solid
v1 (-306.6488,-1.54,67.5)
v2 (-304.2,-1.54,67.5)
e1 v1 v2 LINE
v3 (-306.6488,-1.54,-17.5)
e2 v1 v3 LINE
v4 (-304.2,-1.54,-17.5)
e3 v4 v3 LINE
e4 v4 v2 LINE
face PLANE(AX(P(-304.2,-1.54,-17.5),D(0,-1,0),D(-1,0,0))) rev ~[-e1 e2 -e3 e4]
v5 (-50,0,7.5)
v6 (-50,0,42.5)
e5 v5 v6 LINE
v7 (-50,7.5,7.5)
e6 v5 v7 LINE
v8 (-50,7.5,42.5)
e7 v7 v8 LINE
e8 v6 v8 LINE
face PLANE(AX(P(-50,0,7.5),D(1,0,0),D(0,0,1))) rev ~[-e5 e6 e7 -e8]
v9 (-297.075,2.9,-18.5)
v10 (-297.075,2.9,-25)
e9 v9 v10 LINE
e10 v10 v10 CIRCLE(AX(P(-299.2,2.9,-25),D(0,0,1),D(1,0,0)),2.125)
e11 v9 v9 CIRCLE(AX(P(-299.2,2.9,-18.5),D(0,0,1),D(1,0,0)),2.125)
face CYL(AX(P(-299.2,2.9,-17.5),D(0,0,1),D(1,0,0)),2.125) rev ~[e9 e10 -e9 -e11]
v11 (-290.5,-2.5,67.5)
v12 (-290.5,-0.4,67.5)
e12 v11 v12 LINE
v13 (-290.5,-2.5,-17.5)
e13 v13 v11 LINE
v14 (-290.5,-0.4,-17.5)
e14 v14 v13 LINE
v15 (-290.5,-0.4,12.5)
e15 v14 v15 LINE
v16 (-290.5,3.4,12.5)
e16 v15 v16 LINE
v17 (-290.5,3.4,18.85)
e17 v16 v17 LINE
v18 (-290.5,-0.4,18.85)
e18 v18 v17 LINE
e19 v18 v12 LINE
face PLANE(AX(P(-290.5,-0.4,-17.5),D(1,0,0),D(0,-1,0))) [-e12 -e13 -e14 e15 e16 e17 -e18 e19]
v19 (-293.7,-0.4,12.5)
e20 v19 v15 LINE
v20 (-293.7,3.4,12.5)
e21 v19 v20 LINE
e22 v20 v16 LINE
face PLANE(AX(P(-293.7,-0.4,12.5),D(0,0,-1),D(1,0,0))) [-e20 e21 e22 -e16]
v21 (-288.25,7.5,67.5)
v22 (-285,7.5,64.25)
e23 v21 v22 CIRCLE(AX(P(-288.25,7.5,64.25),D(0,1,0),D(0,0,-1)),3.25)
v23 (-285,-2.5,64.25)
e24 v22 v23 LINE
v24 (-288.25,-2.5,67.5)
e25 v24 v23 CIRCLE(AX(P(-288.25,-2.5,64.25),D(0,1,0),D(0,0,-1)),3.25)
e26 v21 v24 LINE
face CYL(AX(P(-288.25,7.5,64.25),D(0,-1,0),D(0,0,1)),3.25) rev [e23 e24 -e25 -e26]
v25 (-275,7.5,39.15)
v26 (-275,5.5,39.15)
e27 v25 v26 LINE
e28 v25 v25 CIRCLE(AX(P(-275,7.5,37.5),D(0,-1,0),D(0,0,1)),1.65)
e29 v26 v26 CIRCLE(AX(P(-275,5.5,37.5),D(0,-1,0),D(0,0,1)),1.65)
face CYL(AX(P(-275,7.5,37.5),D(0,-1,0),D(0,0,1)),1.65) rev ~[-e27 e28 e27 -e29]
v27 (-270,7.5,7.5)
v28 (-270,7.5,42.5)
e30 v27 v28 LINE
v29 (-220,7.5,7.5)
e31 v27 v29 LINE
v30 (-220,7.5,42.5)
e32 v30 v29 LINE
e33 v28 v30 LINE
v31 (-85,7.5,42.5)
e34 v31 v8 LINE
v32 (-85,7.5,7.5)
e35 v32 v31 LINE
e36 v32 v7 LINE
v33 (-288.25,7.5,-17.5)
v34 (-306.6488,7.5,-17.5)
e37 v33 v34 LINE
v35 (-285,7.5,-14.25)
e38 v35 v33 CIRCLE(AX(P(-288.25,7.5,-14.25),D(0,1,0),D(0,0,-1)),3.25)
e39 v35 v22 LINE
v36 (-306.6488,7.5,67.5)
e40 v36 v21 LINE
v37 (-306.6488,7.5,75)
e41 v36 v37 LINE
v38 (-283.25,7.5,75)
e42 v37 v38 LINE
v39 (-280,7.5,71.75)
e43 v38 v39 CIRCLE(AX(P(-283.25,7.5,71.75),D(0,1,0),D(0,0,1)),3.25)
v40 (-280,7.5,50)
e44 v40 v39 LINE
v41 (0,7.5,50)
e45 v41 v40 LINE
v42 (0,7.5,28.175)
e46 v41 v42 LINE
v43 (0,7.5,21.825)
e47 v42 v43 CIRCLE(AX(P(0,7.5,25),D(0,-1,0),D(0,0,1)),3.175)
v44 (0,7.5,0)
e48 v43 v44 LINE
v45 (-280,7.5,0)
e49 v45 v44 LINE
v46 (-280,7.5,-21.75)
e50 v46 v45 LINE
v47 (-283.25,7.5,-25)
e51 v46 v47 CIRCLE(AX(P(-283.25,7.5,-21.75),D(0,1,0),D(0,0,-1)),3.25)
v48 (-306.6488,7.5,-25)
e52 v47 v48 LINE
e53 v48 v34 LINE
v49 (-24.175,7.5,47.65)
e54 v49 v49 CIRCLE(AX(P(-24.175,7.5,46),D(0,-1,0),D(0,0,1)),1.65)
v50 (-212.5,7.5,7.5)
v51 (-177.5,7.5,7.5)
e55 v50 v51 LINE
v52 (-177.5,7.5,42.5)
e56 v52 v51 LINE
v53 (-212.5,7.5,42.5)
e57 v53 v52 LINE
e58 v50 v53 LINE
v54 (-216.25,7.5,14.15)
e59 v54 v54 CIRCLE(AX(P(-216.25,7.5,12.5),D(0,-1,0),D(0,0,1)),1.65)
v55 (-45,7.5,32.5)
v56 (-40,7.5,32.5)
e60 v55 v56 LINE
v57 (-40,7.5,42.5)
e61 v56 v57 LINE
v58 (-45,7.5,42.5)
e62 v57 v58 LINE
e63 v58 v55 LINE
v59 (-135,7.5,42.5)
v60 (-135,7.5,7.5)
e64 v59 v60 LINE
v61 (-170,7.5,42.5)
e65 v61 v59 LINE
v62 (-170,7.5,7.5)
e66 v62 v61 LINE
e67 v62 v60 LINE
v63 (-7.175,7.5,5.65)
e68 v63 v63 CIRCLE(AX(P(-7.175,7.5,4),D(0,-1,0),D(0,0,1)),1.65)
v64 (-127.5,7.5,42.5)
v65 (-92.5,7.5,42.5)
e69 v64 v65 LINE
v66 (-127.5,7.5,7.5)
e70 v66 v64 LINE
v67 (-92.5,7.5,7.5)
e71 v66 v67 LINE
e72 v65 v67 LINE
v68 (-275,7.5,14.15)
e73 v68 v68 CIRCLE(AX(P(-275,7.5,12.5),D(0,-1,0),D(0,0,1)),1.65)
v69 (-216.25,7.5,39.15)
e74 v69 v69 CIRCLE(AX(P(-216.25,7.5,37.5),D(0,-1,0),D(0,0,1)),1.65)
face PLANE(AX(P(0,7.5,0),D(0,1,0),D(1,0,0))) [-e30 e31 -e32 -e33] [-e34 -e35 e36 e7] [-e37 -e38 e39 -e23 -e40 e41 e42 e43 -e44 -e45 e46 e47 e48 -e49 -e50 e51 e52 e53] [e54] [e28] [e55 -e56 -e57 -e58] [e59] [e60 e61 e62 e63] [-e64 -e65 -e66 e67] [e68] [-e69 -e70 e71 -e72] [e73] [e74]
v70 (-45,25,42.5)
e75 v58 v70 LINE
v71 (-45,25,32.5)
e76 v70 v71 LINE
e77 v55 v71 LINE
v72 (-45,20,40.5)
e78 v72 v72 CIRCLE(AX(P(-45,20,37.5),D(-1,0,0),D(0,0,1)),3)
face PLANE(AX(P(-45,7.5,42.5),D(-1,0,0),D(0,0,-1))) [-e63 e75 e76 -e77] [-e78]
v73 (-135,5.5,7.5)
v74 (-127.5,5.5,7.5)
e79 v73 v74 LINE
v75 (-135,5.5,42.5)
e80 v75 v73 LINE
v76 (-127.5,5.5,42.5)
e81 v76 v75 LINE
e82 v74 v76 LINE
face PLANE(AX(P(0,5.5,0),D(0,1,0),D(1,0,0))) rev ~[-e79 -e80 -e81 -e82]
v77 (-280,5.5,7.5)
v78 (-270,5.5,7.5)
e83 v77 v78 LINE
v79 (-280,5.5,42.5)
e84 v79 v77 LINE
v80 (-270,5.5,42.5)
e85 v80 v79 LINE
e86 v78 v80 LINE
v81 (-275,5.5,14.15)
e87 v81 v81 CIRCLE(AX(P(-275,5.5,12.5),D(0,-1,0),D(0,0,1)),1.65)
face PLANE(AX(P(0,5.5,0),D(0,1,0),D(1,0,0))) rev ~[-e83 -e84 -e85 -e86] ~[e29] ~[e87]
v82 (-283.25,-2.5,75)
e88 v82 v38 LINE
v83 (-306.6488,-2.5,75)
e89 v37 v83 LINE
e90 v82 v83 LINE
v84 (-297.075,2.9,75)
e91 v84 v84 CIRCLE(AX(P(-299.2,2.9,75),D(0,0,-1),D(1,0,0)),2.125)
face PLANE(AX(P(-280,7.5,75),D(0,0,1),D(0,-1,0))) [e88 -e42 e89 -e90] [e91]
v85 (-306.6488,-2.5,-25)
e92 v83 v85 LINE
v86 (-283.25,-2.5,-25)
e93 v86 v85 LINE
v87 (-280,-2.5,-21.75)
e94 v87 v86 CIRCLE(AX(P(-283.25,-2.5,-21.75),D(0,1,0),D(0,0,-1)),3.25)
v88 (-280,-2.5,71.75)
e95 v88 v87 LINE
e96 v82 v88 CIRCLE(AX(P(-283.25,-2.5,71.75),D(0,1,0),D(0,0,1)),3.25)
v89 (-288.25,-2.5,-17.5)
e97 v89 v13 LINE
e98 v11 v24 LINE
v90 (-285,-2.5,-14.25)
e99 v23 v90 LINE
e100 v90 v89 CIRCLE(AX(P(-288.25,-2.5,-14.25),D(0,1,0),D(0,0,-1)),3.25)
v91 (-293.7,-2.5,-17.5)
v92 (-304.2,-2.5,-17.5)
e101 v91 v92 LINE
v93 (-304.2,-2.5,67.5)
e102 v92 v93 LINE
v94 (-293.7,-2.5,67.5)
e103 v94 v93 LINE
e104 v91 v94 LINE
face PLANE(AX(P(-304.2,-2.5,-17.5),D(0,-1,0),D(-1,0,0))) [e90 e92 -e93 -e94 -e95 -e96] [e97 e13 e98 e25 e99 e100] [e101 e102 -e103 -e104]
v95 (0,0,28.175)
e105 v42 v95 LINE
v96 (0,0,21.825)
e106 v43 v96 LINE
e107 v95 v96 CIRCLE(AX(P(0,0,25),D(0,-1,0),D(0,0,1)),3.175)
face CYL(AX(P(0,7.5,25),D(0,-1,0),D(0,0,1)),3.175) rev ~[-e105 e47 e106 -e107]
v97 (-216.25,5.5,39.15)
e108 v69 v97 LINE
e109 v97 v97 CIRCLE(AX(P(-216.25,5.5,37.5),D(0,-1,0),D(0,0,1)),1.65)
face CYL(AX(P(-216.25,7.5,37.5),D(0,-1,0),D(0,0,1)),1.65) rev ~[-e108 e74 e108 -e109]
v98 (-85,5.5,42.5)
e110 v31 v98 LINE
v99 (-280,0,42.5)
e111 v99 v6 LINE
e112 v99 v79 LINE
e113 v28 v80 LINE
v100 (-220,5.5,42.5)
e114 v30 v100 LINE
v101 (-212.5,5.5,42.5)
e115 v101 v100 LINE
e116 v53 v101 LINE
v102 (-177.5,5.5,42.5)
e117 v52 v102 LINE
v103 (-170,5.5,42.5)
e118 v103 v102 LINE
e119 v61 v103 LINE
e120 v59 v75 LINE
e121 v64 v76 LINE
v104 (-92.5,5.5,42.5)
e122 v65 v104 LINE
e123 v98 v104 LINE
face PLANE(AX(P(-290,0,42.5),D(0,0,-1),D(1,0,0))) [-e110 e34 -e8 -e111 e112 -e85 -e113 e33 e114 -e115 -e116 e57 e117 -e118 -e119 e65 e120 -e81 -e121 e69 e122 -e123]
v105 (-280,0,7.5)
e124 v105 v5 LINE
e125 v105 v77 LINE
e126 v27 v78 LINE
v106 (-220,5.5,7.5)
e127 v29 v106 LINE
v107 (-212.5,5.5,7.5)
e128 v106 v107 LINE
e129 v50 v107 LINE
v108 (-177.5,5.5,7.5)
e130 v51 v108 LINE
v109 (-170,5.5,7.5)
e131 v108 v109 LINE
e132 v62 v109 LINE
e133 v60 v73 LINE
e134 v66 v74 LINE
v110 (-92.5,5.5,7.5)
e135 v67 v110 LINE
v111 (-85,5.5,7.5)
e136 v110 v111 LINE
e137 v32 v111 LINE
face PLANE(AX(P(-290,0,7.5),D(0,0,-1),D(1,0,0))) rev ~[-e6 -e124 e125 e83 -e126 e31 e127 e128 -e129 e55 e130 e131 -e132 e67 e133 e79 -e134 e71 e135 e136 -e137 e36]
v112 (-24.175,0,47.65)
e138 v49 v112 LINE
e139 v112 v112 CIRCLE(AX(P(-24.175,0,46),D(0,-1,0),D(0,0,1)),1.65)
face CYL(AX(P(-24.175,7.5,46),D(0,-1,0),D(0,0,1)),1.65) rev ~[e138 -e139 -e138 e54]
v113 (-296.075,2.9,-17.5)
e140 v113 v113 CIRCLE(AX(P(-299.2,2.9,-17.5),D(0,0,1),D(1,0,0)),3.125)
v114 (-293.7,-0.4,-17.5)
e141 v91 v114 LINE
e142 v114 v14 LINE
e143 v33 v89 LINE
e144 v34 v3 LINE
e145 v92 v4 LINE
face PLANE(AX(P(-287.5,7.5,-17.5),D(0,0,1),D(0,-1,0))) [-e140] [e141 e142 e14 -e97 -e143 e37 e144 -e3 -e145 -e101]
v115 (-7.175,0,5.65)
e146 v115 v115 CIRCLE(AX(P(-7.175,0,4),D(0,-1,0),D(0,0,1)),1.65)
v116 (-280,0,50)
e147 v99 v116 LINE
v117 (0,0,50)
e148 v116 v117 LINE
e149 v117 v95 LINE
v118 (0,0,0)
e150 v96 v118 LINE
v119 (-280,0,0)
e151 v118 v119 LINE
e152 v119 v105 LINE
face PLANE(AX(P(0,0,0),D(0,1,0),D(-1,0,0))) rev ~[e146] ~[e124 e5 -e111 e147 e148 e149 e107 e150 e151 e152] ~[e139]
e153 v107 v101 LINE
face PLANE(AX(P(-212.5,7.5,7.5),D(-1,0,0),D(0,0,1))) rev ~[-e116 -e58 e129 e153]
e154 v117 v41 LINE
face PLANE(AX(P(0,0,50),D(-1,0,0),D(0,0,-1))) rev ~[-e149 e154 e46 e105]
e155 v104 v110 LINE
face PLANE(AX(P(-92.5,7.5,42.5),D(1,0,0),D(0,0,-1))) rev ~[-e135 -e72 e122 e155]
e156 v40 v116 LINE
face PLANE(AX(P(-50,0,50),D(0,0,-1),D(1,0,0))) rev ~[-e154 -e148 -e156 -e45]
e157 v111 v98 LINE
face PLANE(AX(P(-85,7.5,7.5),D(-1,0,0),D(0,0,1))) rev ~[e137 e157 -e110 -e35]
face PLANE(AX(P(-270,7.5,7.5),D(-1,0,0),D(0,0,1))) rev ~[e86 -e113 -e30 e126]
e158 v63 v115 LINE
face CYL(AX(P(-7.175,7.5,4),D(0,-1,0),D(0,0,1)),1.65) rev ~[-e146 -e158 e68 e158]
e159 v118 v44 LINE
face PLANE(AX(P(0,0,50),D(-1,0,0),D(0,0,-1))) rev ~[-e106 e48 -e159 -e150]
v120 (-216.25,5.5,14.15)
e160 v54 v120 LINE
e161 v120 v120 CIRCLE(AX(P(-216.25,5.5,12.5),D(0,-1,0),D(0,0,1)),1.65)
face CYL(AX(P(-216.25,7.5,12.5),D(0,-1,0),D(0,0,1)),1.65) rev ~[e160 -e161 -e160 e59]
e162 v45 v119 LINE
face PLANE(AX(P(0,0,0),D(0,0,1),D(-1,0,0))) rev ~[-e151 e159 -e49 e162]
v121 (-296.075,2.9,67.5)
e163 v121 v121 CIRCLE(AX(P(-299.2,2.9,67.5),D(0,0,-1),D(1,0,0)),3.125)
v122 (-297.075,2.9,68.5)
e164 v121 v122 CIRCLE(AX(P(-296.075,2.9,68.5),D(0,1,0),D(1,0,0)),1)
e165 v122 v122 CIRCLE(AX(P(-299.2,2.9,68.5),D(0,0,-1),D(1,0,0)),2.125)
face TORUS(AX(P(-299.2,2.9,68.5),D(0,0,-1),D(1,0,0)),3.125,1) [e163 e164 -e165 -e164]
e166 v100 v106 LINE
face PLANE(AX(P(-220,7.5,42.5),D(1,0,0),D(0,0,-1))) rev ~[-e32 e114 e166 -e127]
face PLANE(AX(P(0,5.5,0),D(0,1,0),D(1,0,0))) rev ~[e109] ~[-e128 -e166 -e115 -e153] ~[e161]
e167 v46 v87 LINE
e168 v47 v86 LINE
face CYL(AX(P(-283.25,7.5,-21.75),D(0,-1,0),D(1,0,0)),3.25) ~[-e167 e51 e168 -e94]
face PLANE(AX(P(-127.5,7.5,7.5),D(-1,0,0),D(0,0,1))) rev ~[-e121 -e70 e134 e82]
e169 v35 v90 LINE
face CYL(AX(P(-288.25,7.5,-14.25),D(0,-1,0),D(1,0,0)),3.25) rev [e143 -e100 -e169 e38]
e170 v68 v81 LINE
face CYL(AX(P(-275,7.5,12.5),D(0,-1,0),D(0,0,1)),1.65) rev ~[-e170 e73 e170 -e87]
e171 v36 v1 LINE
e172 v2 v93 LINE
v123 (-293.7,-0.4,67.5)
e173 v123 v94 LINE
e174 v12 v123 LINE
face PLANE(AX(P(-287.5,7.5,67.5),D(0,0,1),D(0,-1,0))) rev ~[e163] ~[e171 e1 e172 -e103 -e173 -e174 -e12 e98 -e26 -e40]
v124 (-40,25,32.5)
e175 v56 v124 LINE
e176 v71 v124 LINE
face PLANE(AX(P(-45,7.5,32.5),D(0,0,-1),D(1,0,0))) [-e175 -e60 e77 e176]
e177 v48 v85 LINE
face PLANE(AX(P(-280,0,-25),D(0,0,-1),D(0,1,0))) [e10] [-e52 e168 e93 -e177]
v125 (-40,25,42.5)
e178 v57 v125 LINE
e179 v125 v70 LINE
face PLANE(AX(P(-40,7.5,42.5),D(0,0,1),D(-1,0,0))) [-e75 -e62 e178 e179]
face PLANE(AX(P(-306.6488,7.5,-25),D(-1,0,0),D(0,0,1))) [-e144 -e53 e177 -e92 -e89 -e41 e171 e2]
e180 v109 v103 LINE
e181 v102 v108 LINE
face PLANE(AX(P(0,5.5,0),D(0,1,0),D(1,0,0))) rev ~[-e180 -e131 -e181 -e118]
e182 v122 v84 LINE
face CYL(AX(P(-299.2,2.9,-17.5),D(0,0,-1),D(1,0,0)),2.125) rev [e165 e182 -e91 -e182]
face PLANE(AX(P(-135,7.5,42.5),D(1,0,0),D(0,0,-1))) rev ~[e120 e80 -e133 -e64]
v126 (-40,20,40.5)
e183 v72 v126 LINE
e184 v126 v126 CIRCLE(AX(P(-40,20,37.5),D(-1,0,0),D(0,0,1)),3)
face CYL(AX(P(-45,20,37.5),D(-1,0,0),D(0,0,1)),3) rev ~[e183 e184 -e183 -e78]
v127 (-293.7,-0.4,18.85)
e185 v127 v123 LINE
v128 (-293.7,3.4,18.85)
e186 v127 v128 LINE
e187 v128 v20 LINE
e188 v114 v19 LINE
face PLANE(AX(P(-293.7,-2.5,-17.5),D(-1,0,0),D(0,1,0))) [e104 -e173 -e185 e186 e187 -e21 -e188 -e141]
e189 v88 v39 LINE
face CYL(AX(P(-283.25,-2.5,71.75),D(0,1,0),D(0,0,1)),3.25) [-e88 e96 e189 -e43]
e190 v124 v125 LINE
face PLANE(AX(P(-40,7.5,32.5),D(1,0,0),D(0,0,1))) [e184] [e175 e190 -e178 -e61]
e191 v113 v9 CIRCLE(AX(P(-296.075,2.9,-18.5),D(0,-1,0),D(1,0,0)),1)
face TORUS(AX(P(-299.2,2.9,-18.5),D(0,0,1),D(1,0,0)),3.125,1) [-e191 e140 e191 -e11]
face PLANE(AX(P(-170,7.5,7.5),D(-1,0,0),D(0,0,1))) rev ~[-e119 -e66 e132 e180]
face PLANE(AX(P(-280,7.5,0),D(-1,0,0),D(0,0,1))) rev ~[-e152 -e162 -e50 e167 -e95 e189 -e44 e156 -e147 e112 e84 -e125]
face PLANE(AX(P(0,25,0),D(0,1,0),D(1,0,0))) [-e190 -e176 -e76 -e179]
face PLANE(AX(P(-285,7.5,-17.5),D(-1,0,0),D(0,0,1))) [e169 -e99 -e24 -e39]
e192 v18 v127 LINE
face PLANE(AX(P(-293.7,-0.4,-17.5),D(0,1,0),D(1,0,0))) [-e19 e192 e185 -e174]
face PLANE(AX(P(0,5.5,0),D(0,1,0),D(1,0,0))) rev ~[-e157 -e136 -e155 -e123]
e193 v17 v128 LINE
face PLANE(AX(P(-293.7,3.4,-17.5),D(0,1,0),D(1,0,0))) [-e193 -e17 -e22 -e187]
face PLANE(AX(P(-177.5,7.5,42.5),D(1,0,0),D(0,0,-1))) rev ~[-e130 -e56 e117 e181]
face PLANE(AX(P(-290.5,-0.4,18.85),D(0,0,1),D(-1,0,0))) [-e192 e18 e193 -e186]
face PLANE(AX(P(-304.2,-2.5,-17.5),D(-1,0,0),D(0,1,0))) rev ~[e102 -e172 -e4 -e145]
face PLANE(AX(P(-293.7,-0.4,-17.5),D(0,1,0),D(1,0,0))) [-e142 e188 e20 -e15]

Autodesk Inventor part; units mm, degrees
ref_plane "YZ Plane" through (0, 0, 0) normal (1, 0, 0) x (0, 1, 0)
ref_plane "XZ Plane" through (0, 0, 0) normal (0, 1, 0) x (-1, 0, 0)
ref_plane "XY Plane" through (0, 0, 0) normal (0, 0, 1) x (1, 0, 0)
sketch "Sketch1" plane through (0, 0, 0) normal (0, 1, 0) x (-1, 0, 0)
  line L0 (0, 0) -> (50, 0)
  line L1 (50, 0) -> (50, 50)
  line L2 (50, 50) -> (0, 50)
  line L3 (0, 50) -> (0, 0)
  line L4 (50, 50) -> (290, 50)
  line L5 (290, 50) -> (290, 42.5)
  line L6 (290, 42.5) -> (50, 42.5)
  line L7 (50, 42.5) -> (50, 50)
  line L8 (50, 0) -> (290, 0)
  line L9 (290, 0) -> (290, 7.5)
  line L10 (290, 7.5) -> (50, 7.5)
  line L11 (50, 7.5) -> (50, 0)
  dimension "d0" = 50
  dimension "d1" = 50
  dimension "d2" = 240
  dimension "d3" = 7.5
  dimension "d4" = 7.5
extrude "Extrusion1" add sketch "Sketch1" along normal blind 7.5
sketch "Sketch2" plane through (0, 7.5, 0) normal (0, 1, 0) x (1, 0, 0)
  line L0 (0, -50) -> (0, 0) projected
  point P0 (0, -25)
hole "Hole1" at (0, 7.5, 25) direction (0, -1, 0) diameter 6.35 end through all
sketch "Sketch3" plane through (0, 7.5, 0) normal (0, 1, 0) x (1, 0, 0)
  line L0 (-3.175, -50) -> (-3.175, 0) construction
  line L1 (-3.175, -50) -> (-28.175, -50) construction
  line L2 (-28.175, -50) -> (-28.175, 0) construction
  line L3 (-28.175, 0) -> (-3.175, 0) construction
  point P0 (0, 0)
  point P1 (-7.175, -4)
  point P2 (-24.175, -46)
  dimension "d14" = 25
hole "Hole2" at (-7.175, 7.5, 4) at (-24.175, 7.5, 46) direction (0, -1, 0) diameter 3.3 end through all
sketch "Sketch4" plane through (0, 7.5, 0) normal (0, 1, 0) x (1, 0, 0)
  arc A0 (0, -21.825) -> (0, -28.175) centre (0, -25) ccw construction
  line L0 (-3.175, -25) -> (-28.175, -25) construction
  line L1 (-3.175, -25) -> (21.825, -25) construction
  line L2 (-290, -50) -> (0, -50) construction
  line L3 (-28.175, -50) -> (-28.175, 0) construction
  line L4 (-50, -7.5) -> (-50, -42.5) construction
  line L5 (-50, -42.5) -> (-45, -42.5) construction
  line L6 (-45, -42.5) -> (-45, -32.5) construction
  line L7 (-45, -32.5) -> (-50, -32.5) construction
  line L8 (-50, -32.5) -> (-50, -42.5) construction
  line L9 (-45, -32.5) -> (-40, -32.5)
  line L10 (-40, -32.5) -> (-40, -42.5)
  line L11 (-40, -42.5) -> (-45, -42.5)
  line L12 (-45, -42.5) -> (-45, -32.5)
  point P0 (0, 0)
  dimension "d22" = 25
  dimension "d23" = 180
  dimension "d24" = 5
  dimension "d25" = 10
  dimension "d26" = 5
extrude "Extrusion2" add sketch "Sketch4" along normal blind 17.5
sketch "Sketch5" plane through (0, 7.5, 0) normal (0, 1, 0) x (1, 0, 0)
  line L0 (-85, -7.5) -> (-85, -42.5)
  line L1 (-127.5, -7.5) -> (-127.5, -42.5)
  line L2 (-92.5, -42.5) -> (-92.5, -7.5)
  line L3 (-135, -7.5) -> (-170, -7.5) construction
  line L4 (-170, -7.5) -> (-170, -42.5) construction
  line L5 (-170, -42.5) -> (-135, -42.5) construction
  line L6 (-135, -42.5) -> (-135, -7.5) construction
  line L7 (-177.5, -7.5) -> (-212.5, -7.5) construction
  line L8 (-212.5, -7.5) -> (-212.5, -42.5) construction
  line L9 (-212.5, -42.5) -> (-177.5, -42.5) construction
  line L10 (-177.5, -42.5) -> (-177.5, -7.5) construction
  line L11 (-220, -7.5) -> (-255, -7.5) construction
  line L12 (-255, -7.5) -> (-255, -42.5) construction
  line L13 (-255, -42.5) -> (-220, -42.5) construction
  line L14 (-220, -42.5) -> (-220, -7.5) construction
  line L15 (-85, -7.5) -> (-92.5, -7.5) construction
  line L16 (-92.5, -7.5) -> (-92.5, -42.5) construction
  line L17 (-92.5, -42.5) -> (-85, -42.5) construction
  line L18 (-85, -42.5) -> (-85, -7.5) construction
  line L19 (-127.5, -7.5) -> (-135, -7.5) construction
  line L20 (-135, -7.5) -> (-135, -42.5) construction
  line L21 (-135, -42.5) -> (-127.5, -42.5) construction
  line L22 (-127.5, -42.5) -> (-127.5, -7.5) construction
  line L23 (-170, -7.5) -> (-177.5, -7.5) construction
  line L24 (-177.5, -7.5) -> (-177.5, -42.5) construction
  line L25 (-177.5, -42.5) -> (-170, -42.5) construction
  line L26 (-170, -42.5) -> (-170, -7.5) construction
  line L27 (-212.5, -7.5) -> (-220, -7.5) construction
  line L28 (-220, -7.5) -> (-220, -42.5) construction
  line L29 (-220, -42.5) -> (-212.5, -42.5) construction
  line L30 (-212.5, -42.5) -> (-212.5, -7.5) construction
  line L31 (-220, -7.5) -> (-212.5, -7.5)
  line L32 (-212.5, -7.5) -> (-212.5, -42.5)
  line L33 (-212.5, -42.5) -> (-220, -42.5)
  line L34 (-220, -42.5) -> (-220, -7.5)
  line L35 (-177.5, -7.5) -> (-170, -7.5)
  line L36 (-170, -7.5) -> (-170, -42.5)
  line L37 (-170, -42.5) -> (-177.5, -42.5)
  line L38 (-177.5, -42.5) -> (-177.5, -7.5)
  line L39 (-135, -7.5) -> (-127.5, -7.5)
  line L40 (-127.5, -7.5) -> (-127.5, -42.5)
  line L41 (-127.5, -42.5) -> (-135, -42.5)
  line L42 (-135, -42.5) -> (-135, -7.5)
  line L43 (-92.5, -7.5) -> (-85, -7.5)
  line L44 (-85, -7.5) -> (-85, -42.5)
  line L45 (-85, -42.5) -> (-92.5, -42.5)
  line L46 (-92.5, -42.5) -> (-92.5, -7.5)
  point P0 (0, 0)
  point P1 (-50, -7.5)
  dimension "d30" = 35
  dimension "d31" = 35
  dimension "d32" = 35
  dimension "d33" = 35
  dimension "d34" = 35
  dimension "d35" = 35
extrude "Extrusion3" add sketch "Sketch5" against normal blind 2
sketch "Sketch6" plane through (0, 7.5, 0) normal (0, 1, 0) x (1, 0, 0)
  line L0 (-290, 0) -> (-290, -7.5) projected
  line L1 (-290, -50) -> (0, -50) projected
  line L2 (-290, 0) -> (-280, 0)
  line L3 (-280, 0) -> (-280, -50)
  line L4 (-280, -50) -> (-290, -50)
  line L5 (-290, -50) -> (-290, 0)
  point P0 (0, 0)
  dimension "d38" = 10
extrude "Extrusion4" cut sketch "Sketch6" against normal blind 7.5
sketch "Sketch7" plane through (-280, 7.5, 0) normal (-1, 0, 0) x (0, 0, 1)
  point P0 (0, -7.5)
sketch "Sketch8" plane through (-280, 7.5, 0) normal (-1, 0, 0) x (0, 0, 1)
  line L0 (-25, 0) -> (75, 0)
  line L1 (75, 0) -> (75, -7.5)
  line L2 (75, -7.5) -> (-25, -7.5)
  line L3 (-25, -7.5) -> (-25, 0)
  line L4 (-25, 0) -> (75, 0)
  line L5 (75, 0) -> (75, -10)
  line L6 (75, -10) -> (-25, -10)
  line L7 (-25, -10) -> (-25, 0)
  point P0 (0, -7.5)
  dimension "d41" = 100
  dimension "d42" = 10
extrude "Extrusion5" add sketch "Sketch8" along normal blind 7.5
sketch "Sketch9" plane through (-287.5, 7.5, 0) normal (-1, 0, 0) x (0, 0, 1)
  line L0 (75, 0) -> (-25, 0) projected
  line L1 (-25, -10) -> (75, -10) projected
  line L2 (-25, 0) -> (-17.5, 0)
  line L3 (-17.5, 0) -> (-17.5, -10)
  line L4 (-17.5, -10) -> (-25, -10)
  line L5 (-25, -10) -> (-25, 0)
  line L6 (75, 0) -> (67.5, 0)
  line L7 (67.5, 0) -> (67.5, -10)
  line L8 (67.5, -10) -> (75, -10)
  line L9 (75, -10) -> (75, 0)
  point P0 (0, -7.5)
  dimension "d45" = 7.5
  dimension "d46" = 7.5
extrude "Extrusion6" add sketch "Sketch9" along normal blind 25 contours L9 L1 L7 L0 | L3 L1 L5 L0
sketch "Sketch10" plane through (-287.5, -2.5, -17.5) normal (0, 0, 1) x (1, 0, 0)
  line L0 (0, 0) -> (-25, 0) construction
  line L1 (0, 0) -> (-3, 0) construction
  line L2 (-3, 0) -> (-6.2, 0)
  line L3 (-6.2, 0) -> (-6.2, 2.1)
  line L4 (-6.2, 2.1) -> (-3, 2.1)
  line L5 (-3, 2.1) -> (-3, 0)
  line L6 (-6.2, 2.1) -> (-11.7, 2.1) construction
  line L7 (-11.7, 2.1) -> (-11.7, 5.4) construction
  point P0 (287.5, 2.5)
  dimension "d49" = 3
  dimension "d50" = 3.2
  dimension "d51" = 2.1
  dimension "d52" = 5.5
  dimension "d53" = 3.3
extrude "Extrusion7" add sketch "Sketch10" along normal blind 92.5
sketch "Sketch11" plane through (-287.5, -2.5, -17.5) normal (0, 0, 1) x (1, 0, 0)
  line L0 (-6.2, 2.1) -> (-3, 2.1) construction
  line L1 (-6.2, 2.1) -> (-11.7, 2.1) construction
  line L2 (-11.7, 2.1) -> (-11.7, 5.4) construction
  circle A0 centre (-11.7, 5.4) radius 2.125
  point P0 (287.5, 2.5)
  dimension "d56" = 5.5
  dimension "d57" = 3.3
  dimension "d58" = 4.25
extrude "Extrusion8" cut sketch "Sketch11" along normal mid plane 241
sketch "Sketch12" plane through (-287.5, -2.5, -17.5) normal (0, 0, 1) x (1, 0, 0)
  circle A0 centre (-11.7, 5.4) radius 2.125 construction
  line L0 (-11.7, 5.4) -> (-11.7, 0.96) construction
  line L1 (-11.7, 0.96) -> (-16.7, 0.96) construction
  line L2 (-6.2, 0) -> (-25, 0) projected
  line L3 (-16.7, 0.96) -> (-19.2, 0.96)
  line L4 (-19.2, 0.96) -> (-19.2, 0)
  line L5 (-19.2, 0) -> (-16.7, 0)
  line L6 (-16.7, 0) -> (-16.7, 0.96)
  point P0 (287.5, 2.5)
  dimension "d61" = 4.44
  dimension "d62" = 5
  dimension "d63" = 2.5
extrude "Extrusion9" add sketch "Sketch12" along normal blind 91.25
sketch "Sketch13" plane through (-293.7, -0.4, -17.5) normal (0, 1, 0) x (1, 0, 0)
  line L0 (3.2, 0) -> (3.2, -85) construction
  line L1 (3.2, 0) -> (3.2, -30) construction
  line L2 (0, 0) -> (0, -85) construction
  line L3 (3.2, -30) -> (0, -30) construction
  line L4 (0, -30) -> (0, -36.35) construction
  line L5 (0, -36.35) -> (3.2, -36.35) construction
  line L6 (3.2, -36.35) -> (3.2, -30) construction
  line L7 (0, -30) -> (3.2, -30)
  line L8 (3.2, -30) -> (3.2, -36.35)
  line L9 (3.2, -36.35) -> (0, -36.35)
  line L10 (0, -36.35) -> (0, -30)
  point P0 (293.7, -17.5)
  dimension "d66" = 30
  dimension "d67" = 6.35
extrude "Extrusion10" add sketch "Sketch13" along normal blind 3.8
sketch "Sketch14" plane through (0, 7.5, 0) normal (0, 1, 0) x (1, 0, 0)
  line L0 (-287.5, 17.5) -> (-287.5, -67.5) projected
  line L1 (-287.5, 17.5) -> (-285, 17.5)
  line L2 (-285, 17.5) -> (-285, -67.5)
  line L3 (-285, -67.5) -> (-287.5, -67.5)
  line L4 (-287.5, -67.5) -> (-287.5, 17.5)
  point P0 (0, 0)
  dimension "d70" = 2.5
extrude "Extrusion11" cut sketch "Sketch14" against normal blind 14.55
sketch "Sketch15" plane through (0, 7.5, 0) normal (0, 1, 0) x (1, 0, 0)
  line L0 (-312.5, 17.5) -> (-312.5, 25) projected
  line L1 (-280, -75) -> (-312.5, -75) projected
  line L2 (-312.5, 25) -> (-306.6488, 25)
  line L3 (-306.6488, 25) -> (-306.6488, -75)
  line L4 (-306.6488, -75) -> (-312.5, -75)
  line L5 (-312.5, -75) -> (-312.5, 25)
  point P0 (0, 0)
extrude "Extrusion12" cut sketch "Sketch15" against normal blind 14.55
fillet "Fillet1" radius 1 1 edges at (-301.325, 2.9, -17.5)
fillet "Fillet2" radius 1 1 edges at (-301.325, 2.9, 67.5)
fillet "Fillet3" radius 3.25 1 edges at (-280, 2.5, 75)
fillet "Fillet4" radius 3.25 1 edges at (-285, 2.5, 67.5)
fillet "Fillet5" radius 3.25 1 edges at (-280, 2.5, -25)
fillet "Fillet6" radius 3.25 1 edges at (-285, 2.5, -17.5)
sketch "Sketch16" plane through (0, 7.5, 0) normal (0, 1, 0) x (1, 0, 0)
  line L0 (-220, -42.5) -> (-220, -7.5) construction
  line L1 (-220, -42.5) -> (-280, -42.5) construction
  line L2 (-220, -7.5) -> (-255, -7.5) construction
  line L3 (-255, -7.5) -> (-255, -42.5) construction
  line L4 (-255, -42.5) -> (-220, -42.5) construction
  line L5 (-220, -42.5) -> (-220, -7.5) construction
  line L6 (-280, -7.5) -> (-280, 0) projected
  line L7 (-280, -7.5) -> (-270, -7.5)
  line L8 (-270, -7.5) -> (-270, -42.5)
  line L9 (-270, -42.5) -> (-280, -42.5)
  line L10 (-280, -42.5) -> (-280, -7.5)
  point P0 (0, 0)
  dimension "d81" = 35
  dimension "d82" = 10
extrude "Extrusion13" add sketch "Sketch16" against normal blind 2
sketch "Sketch17" plane through (0, 7.5, 0) normal (0, 1, 0) x (1, 0, 0)
  point P0 (0, 0)
sketch "Sketch18" plane through (0, 7.5, 0) normal (0, 1, 0) x (1, 0, 0)
  line L0 (-270, -7.5) -> (-270, -42.5) construction
  line L1 (-285, -64.25) -> (-285, 14.25) construction
  line L2 (-280, -7.5) -> (-280, 0) construction
  line L3 (-270, -7.5) -> (-280, -7.5) construction
  line L4 (-275, -7.5) -> (-275, -42.5) construction
  line L5 (-50, -42.5) -> (-280, -42.5) construction
  circle A0 centre (-275, -12.5) radius 1.8 construction
  circle A1 centre (-275, -37.5) radius 1.8 construction
  circle A2 centre (-275, -12.5) radius 1.8
  circle A3 centre (-275, -37.5) radius 1.8
  point P0 (0, 0)
  dimension "d85" = 3.6
  dimension "d86" = 3.6
hole "Hole3" at (-275, 7.5, 12.5) at (-275, 7.5, 37.5) direction (0, -1, 0) diameter 3.3 depth 15 tip angle 118
sketch "Sketch19" plane through (0, 7.5, 0) normal (0, 1, 0) x (1, 0, 0)
  circle A0 centre (-275, -12.5) radius 1.65 construction
  line L0 (-275, -12.5) -> (-212.5, -12.5) construction
  line L1 (-212.5, -7.5) -> (-212.5, -42.5) construction
  circle A1 centre (-275, -37.5) radius 1.65 construction
  line L2 (-275, -37.5) -> (-212.5, -37.5) construction
  line L3 (-220, -42.5) -> (-220, -7.5) construction
  line L4 (-220, -12.5) -> (-212.5, -12.5) construction
  line L5 (-216.25, -12.5) -> (-216.25, -37.5) construction
  point P0 (0, 0)
hole "Hole4" at (-216.25, 7.5, 12.5) at (-216.25, 7.5, 37.5) direction (0, -1, 0) diameter 3.3 depth 15 tip angle 118
sketch "Sketch20" plane through (-45, 7.5, 32.5) normal (-1, 0, 0) x (0, 0, 1)
  line L0 (10, 17.5) -> (0, 17.5) construction
  line L1 (5, 17.5) -> (5, -0.1335) construction
  line L2 (10, 0) -> (10, 17.5) construction
  line L3 (10, 12.5) -> (5, 12.5) construction
  circle A0 centre (5, 12.5) radius 3
  point P0 (-32.5, -7.5)
  dimension "d101" = 6
extrude "Extrusion14" cut sketch "Sketch20" against normal blind 20
sketch "Sketch21" plane through (-293.7, -0.4, -17.5) normal (0, 0, 1) x (1, 0, 0)
  circle A0 centre (-5.5, 3.3) radius 2.125 construction
  line L0 (-5.5, 3.3) -> (-5.5, -2.1) construction
  line L1 (0, -2.1) -> (-10.5, -2.1) construction
  line L2 (0, 0) -> (3.2, 0) construction
  line L3 (0, 0) -> (-5.5, 0) construction
  line L4 (-10.5, -1.14) -> (-5.5, -1.14) construction
  line L5 (-10.5, -1.14) -> (-10.5, -2.1) construction
  point P0 (293.7, 0.4)
  dimension "d104" = 3.3
  dimension "d105" = 5.5
  dimension "d106" = 3.2
  dimension "d107" = 4.25
  dimension "d108" = 4.44
  dimension "d109" = 5
  dimension "d110" = 0.96
properties part number "mtv_frame(BrakeInBack)1-13"
